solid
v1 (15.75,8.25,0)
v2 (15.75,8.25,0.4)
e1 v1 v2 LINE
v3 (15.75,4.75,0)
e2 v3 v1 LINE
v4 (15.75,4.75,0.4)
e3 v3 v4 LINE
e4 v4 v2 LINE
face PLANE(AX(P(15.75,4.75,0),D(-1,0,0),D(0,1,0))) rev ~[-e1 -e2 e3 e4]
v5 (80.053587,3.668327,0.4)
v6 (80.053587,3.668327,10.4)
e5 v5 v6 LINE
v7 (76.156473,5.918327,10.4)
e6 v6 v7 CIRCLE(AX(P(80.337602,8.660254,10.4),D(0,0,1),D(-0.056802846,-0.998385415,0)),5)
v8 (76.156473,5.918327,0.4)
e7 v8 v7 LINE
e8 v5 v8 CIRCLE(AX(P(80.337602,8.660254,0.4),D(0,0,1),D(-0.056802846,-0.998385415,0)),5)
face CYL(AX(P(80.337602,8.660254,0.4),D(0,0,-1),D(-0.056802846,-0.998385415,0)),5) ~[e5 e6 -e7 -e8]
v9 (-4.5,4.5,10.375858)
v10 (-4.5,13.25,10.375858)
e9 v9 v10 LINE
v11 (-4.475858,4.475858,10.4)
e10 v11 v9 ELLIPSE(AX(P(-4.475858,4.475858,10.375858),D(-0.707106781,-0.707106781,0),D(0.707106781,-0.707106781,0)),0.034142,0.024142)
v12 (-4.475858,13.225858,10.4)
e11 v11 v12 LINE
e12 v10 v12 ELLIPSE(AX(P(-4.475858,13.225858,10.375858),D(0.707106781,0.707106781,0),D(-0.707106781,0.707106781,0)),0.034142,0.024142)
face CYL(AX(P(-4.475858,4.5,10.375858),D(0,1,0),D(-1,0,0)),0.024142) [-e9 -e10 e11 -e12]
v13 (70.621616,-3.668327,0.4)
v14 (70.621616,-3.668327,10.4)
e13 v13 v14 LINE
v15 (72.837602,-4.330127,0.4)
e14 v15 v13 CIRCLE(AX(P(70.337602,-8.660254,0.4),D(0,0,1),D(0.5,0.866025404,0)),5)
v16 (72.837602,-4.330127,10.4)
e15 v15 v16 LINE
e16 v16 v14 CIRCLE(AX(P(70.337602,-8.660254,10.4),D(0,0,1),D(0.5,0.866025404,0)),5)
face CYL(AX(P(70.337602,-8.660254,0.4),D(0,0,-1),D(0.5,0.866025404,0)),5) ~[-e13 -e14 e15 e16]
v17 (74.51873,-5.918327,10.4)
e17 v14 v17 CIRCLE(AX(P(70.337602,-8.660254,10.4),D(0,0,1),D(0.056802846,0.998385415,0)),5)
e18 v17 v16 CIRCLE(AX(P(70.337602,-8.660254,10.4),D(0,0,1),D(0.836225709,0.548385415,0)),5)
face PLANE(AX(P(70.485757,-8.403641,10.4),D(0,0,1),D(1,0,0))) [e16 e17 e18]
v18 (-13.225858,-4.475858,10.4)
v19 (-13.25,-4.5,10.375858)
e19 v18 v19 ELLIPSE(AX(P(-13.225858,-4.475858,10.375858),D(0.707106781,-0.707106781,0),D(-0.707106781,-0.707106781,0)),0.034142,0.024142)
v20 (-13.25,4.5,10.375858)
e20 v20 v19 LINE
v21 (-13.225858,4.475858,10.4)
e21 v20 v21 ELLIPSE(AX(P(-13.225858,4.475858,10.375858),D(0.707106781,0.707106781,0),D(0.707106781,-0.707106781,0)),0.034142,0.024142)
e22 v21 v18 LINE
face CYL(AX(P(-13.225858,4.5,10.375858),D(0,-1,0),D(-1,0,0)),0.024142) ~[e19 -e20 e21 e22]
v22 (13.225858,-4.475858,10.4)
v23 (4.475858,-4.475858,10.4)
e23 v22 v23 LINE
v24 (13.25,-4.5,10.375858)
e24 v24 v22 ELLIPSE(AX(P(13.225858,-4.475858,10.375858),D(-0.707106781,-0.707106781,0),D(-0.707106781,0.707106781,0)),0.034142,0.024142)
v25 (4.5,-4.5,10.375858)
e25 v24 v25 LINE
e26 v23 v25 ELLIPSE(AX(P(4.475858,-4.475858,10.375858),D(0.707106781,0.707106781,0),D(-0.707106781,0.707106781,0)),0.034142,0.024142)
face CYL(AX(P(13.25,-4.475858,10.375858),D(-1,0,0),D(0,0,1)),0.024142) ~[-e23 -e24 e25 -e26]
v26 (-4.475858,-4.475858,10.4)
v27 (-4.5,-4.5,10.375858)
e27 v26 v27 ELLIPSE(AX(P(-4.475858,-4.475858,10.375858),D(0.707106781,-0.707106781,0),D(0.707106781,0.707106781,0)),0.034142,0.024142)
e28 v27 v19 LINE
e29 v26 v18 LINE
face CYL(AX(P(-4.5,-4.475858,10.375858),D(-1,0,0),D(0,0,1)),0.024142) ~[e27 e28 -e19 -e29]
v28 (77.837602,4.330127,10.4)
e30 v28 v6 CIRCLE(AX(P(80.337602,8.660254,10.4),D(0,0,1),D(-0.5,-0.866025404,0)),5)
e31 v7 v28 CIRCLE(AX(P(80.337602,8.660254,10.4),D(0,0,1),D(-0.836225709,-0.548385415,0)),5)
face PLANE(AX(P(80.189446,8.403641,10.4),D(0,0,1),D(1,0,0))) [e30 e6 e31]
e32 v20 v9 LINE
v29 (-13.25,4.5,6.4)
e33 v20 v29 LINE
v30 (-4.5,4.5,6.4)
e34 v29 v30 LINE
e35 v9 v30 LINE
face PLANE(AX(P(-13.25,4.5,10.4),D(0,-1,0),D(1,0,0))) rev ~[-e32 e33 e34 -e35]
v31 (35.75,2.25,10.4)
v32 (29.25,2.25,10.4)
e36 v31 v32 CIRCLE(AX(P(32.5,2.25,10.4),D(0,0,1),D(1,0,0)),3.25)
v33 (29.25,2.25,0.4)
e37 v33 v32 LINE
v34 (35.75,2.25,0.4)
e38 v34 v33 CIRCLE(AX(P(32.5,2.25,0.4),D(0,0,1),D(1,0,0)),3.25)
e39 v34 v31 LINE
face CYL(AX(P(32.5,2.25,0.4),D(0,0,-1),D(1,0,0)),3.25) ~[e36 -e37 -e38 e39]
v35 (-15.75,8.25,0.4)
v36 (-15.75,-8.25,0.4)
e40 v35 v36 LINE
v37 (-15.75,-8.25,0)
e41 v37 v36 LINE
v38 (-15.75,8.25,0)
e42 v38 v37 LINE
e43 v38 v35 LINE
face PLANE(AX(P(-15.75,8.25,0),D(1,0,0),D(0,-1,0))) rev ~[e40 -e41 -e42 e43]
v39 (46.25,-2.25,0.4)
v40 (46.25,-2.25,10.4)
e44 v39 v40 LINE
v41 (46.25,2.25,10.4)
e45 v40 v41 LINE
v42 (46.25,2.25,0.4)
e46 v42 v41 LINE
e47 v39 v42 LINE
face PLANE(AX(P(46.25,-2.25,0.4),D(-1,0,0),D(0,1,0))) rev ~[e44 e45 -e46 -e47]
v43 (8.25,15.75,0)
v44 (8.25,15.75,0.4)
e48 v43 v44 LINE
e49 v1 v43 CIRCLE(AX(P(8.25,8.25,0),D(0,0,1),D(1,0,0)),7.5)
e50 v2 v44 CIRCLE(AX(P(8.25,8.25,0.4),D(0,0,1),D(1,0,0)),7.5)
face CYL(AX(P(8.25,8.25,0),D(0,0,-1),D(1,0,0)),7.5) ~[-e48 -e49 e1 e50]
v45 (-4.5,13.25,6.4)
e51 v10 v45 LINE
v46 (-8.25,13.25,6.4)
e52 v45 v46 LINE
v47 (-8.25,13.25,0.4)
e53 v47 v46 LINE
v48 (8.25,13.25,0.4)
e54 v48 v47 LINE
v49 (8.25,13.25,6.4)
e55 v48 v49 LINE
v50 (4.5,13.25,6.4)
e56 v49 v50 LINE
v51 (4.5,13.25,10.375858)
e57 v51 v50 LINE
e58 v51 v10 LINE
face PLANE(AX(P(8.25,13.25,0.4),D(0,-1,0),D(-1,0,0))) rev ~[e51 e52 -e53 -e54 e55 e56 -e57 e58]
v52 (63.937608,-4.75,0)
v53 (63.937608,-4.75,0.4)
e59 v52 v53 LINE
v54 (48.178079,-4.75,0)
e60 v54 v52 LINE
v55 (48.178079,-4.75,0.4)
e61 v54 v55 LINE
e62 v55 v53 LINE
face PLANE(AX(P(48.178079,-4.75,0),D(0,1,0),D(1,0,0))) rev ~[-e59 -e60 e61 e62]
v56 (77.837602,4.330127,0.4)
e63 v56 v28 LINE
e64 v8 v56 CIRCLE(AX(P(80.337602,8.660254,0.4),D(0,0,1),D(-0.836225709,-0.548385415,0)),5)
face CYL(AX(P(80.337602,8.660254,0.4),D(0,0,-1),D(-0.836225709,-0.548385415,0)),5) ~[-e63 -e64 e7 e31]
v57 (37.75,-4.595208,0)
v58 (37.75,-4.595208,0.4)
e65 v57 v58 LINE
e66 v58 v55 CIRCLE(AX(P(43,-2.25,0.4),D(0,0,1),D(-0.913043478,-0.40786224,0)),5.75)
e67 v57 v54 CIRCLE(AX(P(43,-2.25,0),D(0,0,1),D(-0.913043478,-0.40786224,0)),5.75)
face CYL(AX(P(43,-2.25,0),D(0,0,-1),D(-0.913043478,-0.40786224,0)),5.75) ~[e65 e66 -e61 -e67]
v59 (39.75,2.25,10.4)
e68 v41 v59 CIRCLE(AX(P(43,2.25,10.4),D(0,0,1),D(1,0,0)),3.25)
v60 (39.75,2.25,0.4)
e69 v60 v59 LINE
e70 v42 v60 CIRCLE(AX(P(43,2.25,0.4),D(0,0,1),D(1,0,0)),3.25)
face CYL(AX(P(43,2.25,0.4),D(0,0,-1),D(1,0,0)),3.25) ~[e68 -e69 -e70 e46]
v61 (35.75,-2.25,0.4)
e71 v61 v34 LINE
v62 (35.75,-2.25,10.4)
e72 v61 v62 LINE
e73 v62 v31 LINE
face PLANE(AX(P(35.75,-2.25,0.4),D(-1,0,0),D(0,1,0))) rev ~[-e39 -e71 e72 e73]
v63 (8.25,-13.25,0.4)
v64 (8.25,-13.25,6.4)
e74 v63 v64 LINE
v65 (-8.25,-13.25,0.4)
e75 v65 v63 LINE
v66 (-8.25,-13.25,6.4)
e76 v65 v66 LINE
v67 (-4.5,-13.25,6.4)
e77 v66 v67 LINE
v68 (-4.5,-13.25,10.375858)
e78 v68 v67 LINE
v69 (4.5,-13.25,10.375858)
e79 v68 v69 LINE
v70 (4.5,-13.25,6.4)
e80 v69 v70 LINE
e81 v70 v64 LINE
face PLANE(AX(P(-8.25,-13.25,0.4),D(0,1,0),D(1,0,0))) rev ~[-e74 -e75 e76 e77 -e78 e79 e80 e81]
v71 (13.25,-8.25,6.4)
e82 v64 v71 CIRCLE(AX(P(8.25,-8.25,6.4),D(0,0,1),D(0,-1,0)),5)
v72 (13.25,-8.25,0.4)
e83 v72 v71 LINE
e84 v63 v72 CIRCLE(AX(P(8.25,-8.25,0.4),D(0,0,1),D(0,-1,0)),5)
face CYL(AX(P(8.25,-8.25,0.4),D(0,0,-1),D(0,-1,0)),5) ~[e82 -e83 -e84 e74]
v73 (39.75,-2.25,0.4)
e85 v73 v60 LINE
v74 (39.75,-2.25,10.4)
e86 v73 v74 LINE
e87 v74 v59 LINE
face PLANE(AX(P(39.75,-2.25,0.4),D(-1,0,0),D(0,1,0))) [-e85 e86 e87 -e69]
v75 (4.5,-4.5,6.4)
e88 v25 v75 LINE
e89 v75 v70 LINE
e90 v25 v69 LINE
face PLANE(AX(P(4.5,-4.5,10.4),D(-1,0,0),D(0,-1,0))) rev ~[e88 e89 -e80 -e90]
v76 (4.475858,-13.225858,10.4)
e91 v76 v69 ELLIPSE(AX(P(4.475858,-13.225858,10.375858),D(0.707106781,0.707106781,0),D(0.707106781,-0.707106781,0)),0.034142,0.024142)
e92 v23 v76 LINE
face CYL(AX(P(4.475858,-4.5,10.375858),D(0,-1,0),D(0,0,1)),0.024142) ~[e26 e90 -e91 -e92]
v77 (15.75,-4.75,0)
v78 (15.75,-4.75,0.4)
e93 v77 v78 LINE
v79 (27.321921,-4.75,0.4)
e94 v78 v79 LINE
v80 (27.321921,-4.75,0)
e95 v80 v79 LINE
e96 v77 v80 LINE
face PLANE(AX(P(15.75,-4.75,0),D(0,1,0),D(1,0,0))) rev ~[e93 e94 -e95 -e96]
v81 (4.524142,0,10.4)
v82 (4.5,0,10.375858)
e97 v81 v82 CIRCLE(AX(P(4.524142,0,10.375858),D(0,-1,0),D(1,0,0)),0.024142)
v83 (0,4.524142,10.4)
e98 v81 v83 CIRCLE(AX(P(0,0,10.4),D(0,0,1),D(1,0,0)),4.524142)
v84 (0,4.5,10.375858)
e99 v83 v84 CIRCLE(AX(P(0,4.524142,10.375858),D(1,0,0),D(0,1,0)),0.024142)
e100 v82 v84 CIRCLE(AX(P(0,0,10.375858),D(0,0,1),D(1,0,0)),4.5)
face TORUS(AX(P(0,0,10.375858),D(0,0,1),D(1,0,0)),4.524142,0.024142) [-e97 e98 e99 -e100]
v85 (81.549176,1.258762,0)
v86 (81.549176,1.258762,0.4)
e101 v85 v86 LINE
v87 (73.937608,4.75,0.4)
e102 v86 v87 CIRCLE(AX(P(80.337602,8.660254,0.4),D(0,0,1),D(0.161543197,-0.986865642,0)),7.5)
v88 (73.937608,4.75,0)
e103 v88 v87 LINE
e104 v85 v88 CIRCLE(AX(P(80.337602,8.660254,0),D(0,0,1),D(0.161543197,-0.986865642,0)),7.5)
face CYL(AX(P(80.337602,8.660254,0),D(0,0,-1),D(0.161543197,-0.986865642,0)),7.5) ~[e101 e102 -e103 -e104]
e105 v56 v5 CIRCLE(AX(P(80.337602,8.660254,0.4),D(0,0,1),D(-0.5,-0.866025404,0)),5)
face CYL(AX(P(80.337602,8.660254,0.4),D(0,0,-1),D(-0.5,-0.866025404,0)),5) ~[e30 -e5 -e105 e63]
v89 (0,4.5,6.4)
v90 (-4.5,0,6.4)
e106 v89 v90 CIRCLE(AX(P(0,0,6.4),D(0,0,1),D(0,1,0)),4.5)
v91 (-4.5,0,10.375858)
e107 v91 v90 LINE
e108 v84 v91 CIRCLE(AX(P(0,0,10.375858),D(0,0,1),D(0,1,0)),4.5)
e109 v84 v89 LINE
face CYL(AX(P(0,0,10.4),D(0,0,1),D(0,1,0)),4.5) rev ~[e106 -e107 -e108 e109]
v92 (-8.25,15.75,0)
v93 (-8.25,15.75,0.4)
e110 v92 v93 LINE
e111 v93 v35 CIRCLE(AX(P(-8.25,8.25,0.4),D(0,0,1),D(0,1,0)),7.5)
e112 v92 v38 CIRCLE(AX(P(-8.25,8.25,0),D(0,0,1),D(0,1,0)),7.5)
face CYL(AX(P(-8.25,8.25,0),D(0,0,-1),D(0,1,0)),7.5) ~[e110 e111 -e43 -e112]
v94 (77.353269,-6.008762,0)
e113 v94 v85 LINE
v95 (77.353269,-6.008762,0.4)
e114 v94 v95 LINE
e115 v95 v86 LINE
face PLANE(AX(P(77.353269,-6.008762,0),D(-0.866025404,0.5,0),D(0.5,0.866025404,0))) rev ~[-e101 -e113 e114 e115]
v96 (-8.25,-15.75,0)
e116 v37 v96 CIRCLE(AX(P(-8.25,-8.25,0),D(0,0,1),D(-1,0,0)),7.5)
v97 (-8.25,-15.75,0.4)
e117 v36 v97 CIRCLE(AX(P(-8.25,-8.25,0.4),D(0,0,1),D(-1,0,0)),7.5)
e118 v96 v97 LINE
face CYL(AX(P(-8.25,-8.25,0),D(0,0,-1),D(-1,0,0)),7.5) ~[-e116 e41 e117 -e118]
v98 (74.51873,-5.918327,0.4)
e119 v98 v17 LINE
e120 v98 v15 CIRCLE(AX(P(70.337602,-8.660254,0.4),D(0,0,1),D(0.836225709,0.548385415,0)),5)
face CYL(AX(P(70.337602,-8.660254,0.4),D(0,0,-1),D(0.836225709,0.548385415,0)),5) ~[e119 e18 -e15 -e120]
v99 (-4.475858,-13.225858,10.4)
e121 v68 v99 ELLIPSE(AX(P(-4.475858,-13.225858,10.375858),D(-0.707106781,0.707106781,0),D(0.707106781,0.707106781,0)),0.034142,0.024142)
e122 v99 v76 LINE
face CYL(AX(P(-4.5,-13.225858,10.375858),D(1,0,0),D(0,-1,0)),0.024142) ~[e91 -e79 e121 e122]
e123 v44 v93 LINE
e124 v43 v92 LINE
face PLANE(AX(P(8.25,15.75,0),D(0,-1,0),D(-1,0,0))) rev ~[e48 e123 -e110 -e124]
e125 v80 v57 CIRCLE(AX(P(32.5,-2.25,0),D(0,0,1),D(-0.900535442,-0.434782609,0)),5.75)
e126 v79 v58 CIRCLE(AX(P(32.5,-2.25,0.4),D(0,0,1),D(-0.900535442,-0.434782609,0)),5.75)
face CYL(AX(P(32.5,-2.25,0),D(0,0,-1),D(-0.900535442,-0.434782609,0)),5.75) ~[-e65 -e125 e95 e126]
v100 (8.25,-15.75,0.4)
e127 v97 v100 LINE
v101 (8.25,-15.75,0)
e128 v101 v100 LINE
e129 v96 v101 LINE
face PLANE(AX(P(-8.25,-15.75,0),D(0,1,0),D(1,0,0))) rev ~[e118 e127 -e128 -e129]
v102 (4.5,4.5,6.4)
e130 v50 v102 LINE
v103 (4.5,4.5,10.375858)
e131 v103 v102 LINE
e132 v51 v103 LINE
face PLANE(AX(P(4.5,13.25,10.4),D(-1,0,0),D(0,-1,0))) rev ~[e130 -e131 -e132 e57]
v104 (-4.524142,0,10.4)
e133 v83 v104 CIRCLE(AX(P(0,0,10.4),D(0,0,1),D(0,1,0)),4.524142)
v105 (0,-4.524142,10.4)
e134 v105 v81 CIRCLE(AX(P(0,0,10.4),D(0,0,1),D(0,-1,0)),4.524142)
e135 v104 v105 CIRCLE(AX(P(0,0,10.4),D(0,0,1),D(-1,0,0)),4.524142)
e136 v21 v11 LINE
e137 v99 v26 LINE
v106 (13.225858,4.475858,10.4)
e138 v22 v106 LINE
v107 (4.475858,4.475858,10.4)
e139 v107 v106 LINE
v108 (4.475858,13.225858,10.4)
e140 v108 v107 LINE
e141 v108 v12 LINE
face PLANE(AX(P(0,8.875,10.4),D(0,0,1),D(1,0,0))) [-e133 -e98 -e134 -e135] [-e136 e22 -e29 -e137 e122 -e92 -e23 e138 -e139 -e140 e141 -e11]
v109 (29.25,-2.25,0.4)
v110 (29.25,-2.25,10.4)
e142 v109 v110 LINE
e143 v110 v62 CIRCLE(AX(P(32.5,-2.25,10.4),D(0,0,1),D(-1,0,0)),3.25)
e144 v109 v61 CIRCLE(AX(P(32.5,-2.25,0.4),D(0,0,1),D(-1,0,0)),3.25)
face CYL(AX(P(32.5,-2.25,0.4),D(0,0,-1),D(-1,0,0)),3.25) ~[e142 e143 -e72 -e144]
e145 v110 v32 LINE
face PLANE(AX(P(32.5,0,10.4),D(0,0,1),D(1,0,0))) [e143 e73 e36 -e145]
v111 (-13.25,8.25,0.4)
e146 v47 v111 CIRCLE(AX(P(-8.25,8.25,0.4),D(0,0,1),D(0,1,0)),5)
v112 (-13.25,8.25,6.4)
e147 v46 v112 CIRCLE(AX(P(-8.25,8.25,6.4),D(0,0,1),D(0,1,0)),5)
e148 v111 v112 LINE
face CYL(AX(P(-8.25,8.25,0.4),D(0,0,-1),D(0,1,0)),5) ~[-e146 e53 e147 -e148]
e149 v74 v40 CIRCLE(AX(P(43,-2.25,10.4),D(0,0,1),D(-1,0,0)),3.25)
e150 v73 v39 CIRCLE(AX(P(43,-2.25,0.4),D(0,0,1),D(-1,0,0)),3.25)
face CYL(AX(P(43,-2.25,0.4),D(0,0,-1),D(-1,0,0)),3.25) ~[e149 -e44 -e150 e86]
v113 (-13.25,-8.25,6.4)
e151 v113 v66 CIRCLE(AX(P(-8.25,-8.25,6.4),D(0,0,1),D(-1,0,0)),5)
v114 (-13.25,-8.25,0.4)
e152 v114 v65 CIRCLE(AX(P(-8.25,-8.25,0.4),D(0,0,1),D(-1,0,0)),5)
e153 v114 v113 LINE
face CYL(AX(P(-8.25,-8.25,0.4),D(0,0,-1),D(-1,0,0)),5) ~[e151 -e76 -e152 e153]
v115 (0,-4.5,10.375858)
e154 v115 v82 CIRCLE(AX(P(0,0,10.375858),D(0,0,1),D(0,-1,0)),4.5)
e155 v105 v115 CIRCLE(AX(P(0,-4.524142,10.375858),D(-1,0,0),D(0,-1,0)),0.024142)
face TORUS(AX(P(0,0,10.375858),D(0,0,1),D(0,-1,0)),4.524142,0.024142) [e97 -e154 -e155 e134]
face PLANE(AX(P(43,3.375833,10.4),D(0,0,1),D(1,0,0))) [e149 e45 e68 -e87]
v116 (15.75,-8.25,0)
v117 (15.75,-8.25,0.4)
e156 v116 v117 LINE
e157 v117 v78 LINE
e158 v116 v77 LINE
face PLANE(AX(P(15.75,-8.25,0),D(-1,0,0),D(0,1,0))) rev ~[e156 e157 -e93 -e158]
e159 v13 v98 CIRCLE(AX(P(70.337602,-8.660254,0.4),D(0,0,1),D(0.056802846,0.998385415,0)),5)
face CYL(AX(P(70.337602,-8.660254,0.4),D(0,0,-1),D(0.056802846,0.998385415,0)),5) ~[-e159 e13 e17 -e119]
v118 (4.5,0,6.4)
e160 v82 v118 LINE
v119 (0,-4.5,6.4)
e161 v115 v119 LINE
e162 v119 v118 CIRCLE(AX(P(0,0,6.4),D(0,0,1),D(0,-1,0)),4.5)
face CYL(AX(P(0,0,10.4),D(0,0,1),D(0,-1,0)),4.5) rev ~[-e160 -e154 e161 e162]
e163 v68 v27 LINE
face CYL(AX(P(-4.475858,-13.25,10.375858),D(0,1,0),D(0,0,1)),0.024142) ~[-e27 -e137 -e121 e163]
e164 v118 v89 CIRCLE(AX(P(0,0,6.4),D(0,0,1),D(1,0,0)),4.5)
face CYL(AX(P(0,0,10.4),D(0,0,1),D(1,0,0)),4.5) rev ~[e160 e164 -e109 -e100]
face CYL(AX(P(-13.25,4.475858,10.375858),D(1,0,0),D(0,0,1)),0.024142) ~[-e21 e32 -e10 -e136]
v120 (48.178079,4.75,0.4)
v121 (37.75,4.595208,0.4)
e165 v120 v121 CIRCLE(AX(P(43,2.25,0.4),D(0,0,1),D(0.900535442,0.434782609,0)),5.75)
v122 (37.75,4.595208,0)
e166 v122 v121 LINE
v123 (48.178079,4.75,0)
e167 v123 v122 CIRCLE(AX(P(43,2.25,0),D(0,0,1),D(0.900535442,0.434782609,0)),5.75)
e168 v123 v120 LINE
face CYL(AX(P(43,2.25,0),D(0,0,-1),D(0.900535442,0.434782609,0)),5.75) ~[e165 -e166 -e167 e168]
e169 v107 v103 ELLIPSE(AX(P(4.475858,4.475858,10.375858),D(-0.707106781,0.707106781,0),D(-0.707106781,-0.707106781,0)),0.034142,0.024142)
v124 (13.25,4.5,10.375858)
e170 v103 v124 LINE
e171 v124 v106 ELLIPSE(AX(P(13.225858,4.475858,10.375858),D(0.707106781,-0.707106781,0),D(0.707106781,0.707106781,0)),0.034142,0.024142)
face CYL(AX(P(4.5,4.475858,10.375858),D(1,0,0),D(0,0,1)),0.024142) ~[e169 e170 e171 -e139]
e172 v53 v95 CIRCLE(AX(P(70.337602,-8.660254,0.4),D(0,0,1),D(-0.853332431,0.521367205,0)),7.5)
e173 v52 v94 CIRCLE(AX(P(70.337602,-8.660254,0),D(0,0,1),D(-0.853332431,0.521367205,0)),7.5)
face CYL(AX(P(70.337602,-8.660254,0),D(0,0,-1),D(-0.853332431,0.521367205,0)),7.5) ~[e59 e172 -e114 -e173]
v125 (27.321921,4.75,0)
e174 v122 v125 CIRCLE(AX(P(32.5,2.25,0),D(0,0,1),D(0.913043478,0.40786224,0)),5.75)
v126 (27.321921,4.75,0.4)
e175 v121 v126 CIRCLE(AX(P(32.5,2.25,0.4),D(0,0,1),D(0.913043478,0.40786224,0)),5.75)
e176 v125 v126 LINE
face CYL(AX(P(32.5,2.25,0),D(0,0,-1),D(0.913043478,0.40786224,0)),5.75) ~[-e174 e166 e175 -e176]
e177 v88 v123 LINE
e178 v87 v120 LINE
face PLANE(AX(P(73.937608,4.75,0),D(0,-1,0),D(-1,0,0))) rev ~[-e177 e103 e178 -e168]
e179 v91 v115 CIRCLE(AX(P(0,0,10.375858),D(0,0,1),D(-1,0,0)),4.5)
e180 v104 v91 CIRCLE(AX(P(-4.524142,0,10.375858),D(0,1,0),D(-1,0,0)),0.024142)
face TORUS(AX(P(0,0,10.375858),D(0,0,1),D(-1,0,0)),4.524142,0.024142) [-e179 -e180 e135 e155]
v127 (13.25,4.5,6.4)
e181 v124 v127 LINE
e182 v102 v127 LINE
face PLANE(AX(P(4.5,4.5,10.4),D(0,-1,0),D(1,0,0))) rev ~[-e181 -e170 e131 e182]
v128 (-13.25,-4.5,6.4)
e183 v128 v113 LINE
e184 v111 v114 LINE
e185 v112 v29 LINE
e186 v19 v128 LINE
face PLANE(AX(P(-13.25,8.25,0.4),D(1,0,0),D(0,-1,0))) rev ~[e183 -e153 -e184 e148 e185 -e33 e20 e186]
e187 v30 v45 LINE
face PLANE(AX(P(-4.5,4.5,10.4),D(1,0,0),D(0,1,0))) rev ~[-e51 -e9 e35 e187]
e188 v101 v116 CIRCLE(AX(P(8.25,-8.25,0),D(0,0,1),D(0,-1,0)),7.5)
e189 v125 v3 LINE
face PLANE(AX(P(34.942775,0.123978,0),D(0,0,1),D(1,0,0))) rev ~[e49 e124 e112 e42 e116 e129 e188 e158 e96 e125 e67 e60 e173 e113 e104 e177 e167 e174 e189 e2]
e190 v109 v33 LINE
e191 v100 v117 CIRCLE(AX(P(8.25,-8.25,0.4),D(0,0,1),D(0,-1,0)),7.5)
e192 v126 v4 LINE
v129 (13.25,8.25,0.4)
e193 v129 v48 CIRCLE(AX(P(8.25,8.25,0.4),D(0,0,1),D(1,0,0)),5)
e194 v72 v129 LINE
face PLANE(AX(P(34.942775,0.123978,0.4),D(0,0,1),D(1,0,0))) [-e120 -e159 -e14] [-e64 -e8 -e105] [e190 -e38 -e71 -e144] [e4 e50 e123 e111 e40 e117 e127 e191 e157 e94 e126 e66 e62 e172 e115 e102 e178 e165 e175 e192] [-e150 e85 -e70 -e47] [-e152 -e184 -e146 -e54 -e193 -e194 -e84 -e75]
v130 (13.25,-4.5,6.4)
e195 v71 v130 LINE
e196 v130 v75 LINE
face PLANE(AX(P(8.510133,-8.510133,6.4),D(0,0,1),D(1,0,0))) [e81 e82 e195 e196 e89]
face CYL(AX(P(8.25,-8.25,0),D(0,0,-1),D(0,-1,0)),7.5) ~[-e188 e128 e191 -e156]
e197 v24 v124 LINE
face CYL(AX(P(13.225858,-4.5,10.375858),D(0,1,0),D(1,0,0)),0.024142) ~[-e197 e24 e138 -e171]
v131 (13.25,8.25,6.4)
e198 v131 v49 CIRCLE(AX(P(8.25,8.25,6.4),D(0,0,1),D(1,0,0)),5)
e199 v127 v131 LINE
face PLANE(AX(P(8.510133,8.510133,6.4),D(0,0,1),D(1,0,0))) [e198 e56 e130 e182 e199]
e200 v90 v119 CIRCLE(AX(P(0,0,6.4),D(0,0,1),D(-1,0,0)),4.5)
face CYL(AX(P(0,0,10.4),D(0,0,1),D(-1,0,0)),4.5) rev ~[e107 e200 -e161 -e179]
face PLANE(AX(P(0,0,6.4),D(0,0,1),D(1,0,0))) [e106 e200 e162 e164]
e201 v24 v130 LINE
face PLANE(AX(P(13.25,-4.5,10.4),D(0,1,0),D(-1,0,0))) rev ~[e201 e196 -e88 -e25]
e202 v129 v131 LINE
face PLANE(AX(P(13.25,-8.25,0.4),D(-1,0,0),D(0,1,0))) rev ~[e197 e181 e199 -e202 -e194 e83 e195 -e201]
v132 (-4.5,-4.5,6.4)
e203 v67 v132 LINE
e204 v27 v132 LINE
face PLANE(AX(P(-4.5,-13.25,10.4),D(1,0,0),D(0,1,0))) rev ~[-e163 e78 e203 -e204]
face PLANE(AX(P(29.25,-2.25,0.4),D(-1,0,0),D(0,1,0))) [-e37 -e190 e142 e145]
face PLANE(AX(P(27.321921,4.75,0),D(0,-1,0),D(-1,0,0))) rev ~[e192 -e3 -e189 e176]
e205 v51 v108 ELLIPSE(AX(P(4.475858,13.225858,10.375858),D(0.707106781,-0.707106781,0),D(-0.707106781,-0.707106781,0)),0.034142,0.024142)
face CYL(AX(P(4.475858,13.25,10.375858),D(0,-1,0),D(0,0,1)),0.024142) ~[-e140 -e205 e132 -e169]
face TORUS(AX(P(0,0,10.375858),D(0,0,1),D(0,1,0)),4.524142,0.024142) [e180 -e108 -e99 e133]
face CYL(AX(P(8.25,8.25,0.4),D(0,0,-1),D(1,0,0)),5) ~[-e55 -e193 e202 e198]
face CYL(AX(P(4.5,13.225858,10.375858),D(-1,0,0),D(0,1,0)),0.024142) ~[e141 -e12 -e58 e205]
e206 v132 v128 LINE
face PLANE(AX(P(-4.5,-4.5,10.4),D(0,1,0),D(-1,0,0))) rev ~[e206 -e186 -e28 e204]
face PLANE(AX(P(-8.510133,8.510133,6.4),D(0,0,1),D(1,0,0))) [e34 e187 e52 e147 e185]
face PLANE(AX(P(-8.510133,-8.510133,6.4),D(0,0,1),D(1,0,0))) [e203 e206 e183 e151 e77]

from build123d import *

# Parameters (mm, degrees)
F0_W     = 6.5
F0_H     = 4.5
F0_W_2   = 4
F0_W_3   = 16
F1_DEPTH = 0.4
F2_W     = 6.5
F2_H     = 4.5
F3_DEPTH = 10
F5_DEPTH = 4
F6_R     = 0.0241421356


with BuildPart() as f1:
    # F0 (on Top) → F1 (new body)
    with BuildSketch(Plane.XY):
        with BuildLine():
            Line((8.25, 15.75), (-8.25, 15.75))
            ThreePointArc((-8.25, 15.75), (-13.5533008589, 13.5533008589), (-15.75, 8.25))
            Line((-15.75, 8.25), (-15.75, -8.25))
            ThreePointArc((-15.75, -8.25), (-13.5533008589, -13.5533008589), (-8.25, -15.75))
            Line((-8.25, -15.75), (8.25, -15.75))
            ThreePointArc((8.25, -15.75), (13.5533008589, -13.5533008589), (15.75, -8.25))
            Line((15.75, -8.25), (15.75, -4.75))
            Line((15.75, -4.75), (27.3219212057, -4.75))
            ThreePointArc((27.3219212057, -4.75), (32.5853423404, -7.9993666334), (37.75, -4.5952078799))
            ThreePointArc((37.75, -4.5952078799), (42.9146576596, -7.9993666334), (48.1780787943, -4.75))
            Line((48.1780787943, -4.75), (63.9376083391, -4.75))
            ThreePointArc((63.9376083391, -4.75), (69.6369704789, -16.1274567319), (77.3532689299, -6.0087617221))
            Line((77.3532689299, -6.0087617221), (81.5491755468, 1.2587617221))
            ThreePointArc((81.5491755468, 1.2587617221), (83.4644385935, 15.4773568118), (73.9376083391, 4.75))
            Line((73.9376083391, 4.75), (48.1780787943, 4.75))
            ThreePointArc((48.1780787943, 4.75), (42.9146576596, 7.9993666334), (37.75, 4.5952078799))
            ThreePointArc((37.75, 4.5952078799), (32.5853423404, 7.9993666334), (27.3219212057, 4.75))
            Line((27.3219212057, 4.75), (15.75, 4.75))
            Line((15.75, 4.75), (15.75, 8.25))
            ThreePointArc((15.75, 8.25), (13.5533008589, 13.5533008589), (8.25, 15.75))
        make_face()
        with BuildLine():
            ThreePointArc((-13.25, 8.25), (-11.7855339059, 11.7855339059), (-8.25, 13.25))
            Line((-8.25, 13.25), (-4.5, 13.25))
            Line((-4.5, 13.25), (4.5, 13.25))
            Line((4.5, 13.25), (8.25, 13.25))
            ThreePointArc((8.25, 13.25), (11.7855339059, 11.7855339059), (13.25, 8.25))
            Line((13.25, 8.25), (13.25, 4.5))
            Line((13.25, 4.5), (13.25, 2.25))
            Line((13.25, 2.25), (29.25, 2.25))
            ThreePointArc((29.25, 2.25), (32.5, 5.5), (35.75, 2.25))
            Line((35.75, 2.25), (39.75, 2.25))
            ThreePointArc((39.75, 2.25), (43, 5.5), (46.25, 2.25))
            Line((46.25, 2.25), (74.0385634647, 2.25))
            Line((74.0385634647, 2.25), (76.1564730244, 5.9183269633))
            ThreePointArc((76.1564730244, 5.9183269633), (82.8376015704, 12.9903810568), (80.0535873414, 3.6683269633))
            Line((80.0535873414, 3.6683269633), (74.5187301163, -5.9183269633))
            ThreePointArc((74.5187301163, -5.9183269633), (67.8376015704, -12.9903810568), (70.6216157993, -3.6683269633))
            Line((70.6216157993, -3.6683269633), (71.4404872533, -2.25))
            Line((71.4404872533, -2.25), (46.25, -2.25))
            ThreePointArc((46.25, -2.25), (43, -5.5), (39.75, -2.25))
            Line((39.75, -2.25), (35.75, -2.25))
            ThreePointArc((35.75, -2.25), (32.5, -5.5), (29.25, -2.25))
            Line((29.25, -2.25), (13.25, -2.25))
            Line((13.25, -2.25), (13.25, -4.5))
            Line((13.25, -4.5), (13.25, -8.25))
            ThreePointArc((13.25, -8.25), (11.7855339059, -11.7855339059), (8.25, -13.25))
            Line((8.25, -13.25), (4.5, -13.25))
            Line((4.5, -13.25), (-4.5, -13.25))
            Line((-4.5, -13.25), (-8.25, -13.25))
            ThreePointArc((-8.25, -13.25), (-11.7855339059, -11.7855339059), (-13.25, -8.25))
            Line((-13.25, -8.25), (-13.25, -4.5))
            Line((-13.25, -4.5), (-13.25, 4.5))
            Line((-13.25, 4.5), (-13.25, 8.25))
        make_face(mode=Mode.SUBTRACT)
        Polygon((4.5, -4.5), (0, -4.5), (-4.5, -4.5), (-4.5, -13.25), (4.5, -13.25), align=None)
        with BuildLine():
            Line((76.1564730244, 5.9183269633), (74.0385634647, 2.25))
            Line((74.0385634647, 2.25), (71.4404872533, -2.25))
            Line((71.4404872533, -2.25), (70.6216157993, -3.6683269633))
            ThreePointArc((70.6216157993, -3.6683269633), (72.8376015704, -4.3301270189), (74.5187301163, -5.9183269633))
            Line((74.5187301163, -5.9183269633), (80.0535873414, 3.6683269633))
            ThreePointArc((80.0535873414, 3.6683269633), (77.8376015704, 4.3301270189), (76.1564730244, 5.9183269633))
        make_face()
        with Locations((32.5, 0)):
            Rectangle(F0_W, F0_H)
        with BuildLine():
            ThreePointArc((35.75, 2.25), (32.5, 5.5), (29.25, 2.25))
            Line((29.25, 2.25), (35.75, 2.25))
        make_face()
        Polygon((74.0385634647, 2.25), (46.25, 2.25), (46.25, -2.25), (71.4404872533, -2.25), align=None)
        with BuildLine():
            Line((35.75, -2.25), (29.25, -2.25))
            ThreePointArc((29.25, -2.25), (32.5, -5.5), (35.75, -2.25))
        make_face()
        with Locations((37.75, 0)):
            Rectangle(F0_W_2, F0_H)
        Polygon((-4.5, 0), (-4.5, 4.5), (-13.25, 4.5), (-13.25, -4.5), (-4.5, -4.5), align=None)
        with BuildLine():
            ThreePointArc((46.25, 2.25), (43, 5.5), (39.75, 2.25))
            Line((39.75, 2.25), (46.25, 2.25))
        make_face()
        with BuildLine():
            Line((-4.5, -4.5), (-13.25, -4.5))
            Line((-13.25, -4.5), (-13.25, -8.25))
            ThreePointArc((-13.25, -8.25), (-11.7855339059, -11.7855339059), (-8.25, -13.25))
            Line((-8.25, -13.25), (-4.5, -13.25))
            Line((-4.5, -13.25), (-4.5, -4.5))
        make_face()
        with BuildLine():
            Line((13.25, -4.5), (4.5, -4.5))
            Line((4.5, -4.5), (4.5, -13.25))
            Line((4.5, -13.25), (8.25, -13.25))
            ThreePointArc((8.25, -13.25), (11.7855339059, -11.7855339059), (13.25, -8.25))
            Line((13.25, -8.25), (13.25, -4.5))
        make_face()
        with BuildLine():
            Line((46.25, -2.25), (39.75, -2.25))
            ThreePointArc((39.75, -2.25), (43, -5.5), (46.25, -2.25))
        make_face()
        with BuildLine():
            ThreePointArc((74.5187301163, -5.9183269633), (72.8376015704, -4.3301270189), (70.6216157993, -3.6683269633))
            ThreePointArc((70.6216157993, -3.6683269633), (67.8376015704, -12.9903810568), (74.5187301163, -5.9183269633))
        make_face()
        with BuildLine():
            ThreePointArc((80.0535873414, 3.6683269633), (82.8376015704, 12.9903810568), (76.1564730244, 5.9183269633))
            ThreePointArc((76.1564730244, 5.9183269633), (77.8376015704, 4.3301270189), (80.0535873414, 3.6683269633))
        make_face()
        Polygon((13.25, 4.5), (4.5, 4.5), (4.5, 0), (4.5, -4.5), (13.25, -4.5), (13.25, -2.25), (13.25, 2.25), align=None)
        with BuildLine():
            Line((-4.5, 13.25), (-8.25, 13.25))
            ThreePointArc((-8.25, 13.25), (-11.7855339059, 11.7855339059), (-13.25, 8.25))
            Line((-13.25, 8.25), (-13.25, 4.5))
            Line((-13.25, 4.5), (-4.5, 4.5))
            Line((-4.5, 4.5), (-4.5, 13.25))
        make_face()
        Polygon((4.5, 13.25), (-4.5, 13.25), (-4.5, 4.5), (0, 4.5), (4.5, 4.5), align=None)
        with BuildLine():
            Line((8.25, 13.25), (4.5, 13.25))
            Line((4.5, 13.25), (4.5, 4.5))
            Line((4.5, 4.5), (13.25, 4.5))
            Line((13.25, 4.5), (13.25, 8.25))
            ThreePointArc((13.25, 8.25), (11.7855339059, 11.7855339059), (8.25, 13.25))
        make_face()
        with Locations((21.25, 0)):
            Rectangle(F0_W_3, F0_H)
        with Locations((43, 0)):
            Rectangle(F0_W, F0_H)
        with BuildLine():
            ThreePointArc((0, 4.5), (-3.1819805153, 3.1819805153), (-4.5, 0))
            ThreePointArc((-4.5, 0), (-3.1819805153, -3.1819805153), (0, -4.5))
            ThreePointArc((0, -4.5), (3.1819805153, -3.1819805153), (4.5, 0))
            ThreePointArc((4.5, 0), (3.1819805153, 3.1819805153), (0, 4.5))
        make_face()
        with BuildLine():
            Line((4.5, 0), (4.5, 4.5))
            Line((4.5, 4.5), (0, 4.5))
            ThreePointArc((0, 4.5), (3.1819805153, 3.1819805153), (4.5, 0))
        make_face()
        with BuildLine():
            Line((4.5, -4.5), (4.5, 0))
            ThreePointArc((4.5, 0), (3.1819805153, -3.1819805153), (0, -4.5))
            Line((0, -4.5), (4.5, -4.5))
        make_face()
        with BuildLine():
            ThreePointArc((0, -4.5), (-3.1819805153, -3.1819805153), (-4.5, 0))
            Line((-4.5, 0), (-4.5, -4.5))
            Line((-4.5, -4.5), (0, -4.5))
        make_face()
        with BuildLine():
            Line((0, 4.5), (-4.5, 4.5))
            Line((-4.5, 4.5), (-4.5, 0))
            ThreePointArc((-4.5, 0), (-3.1819805153, 3.1819805153), (0, 4.5))
        make_face()
    extrude(amount=F1_DEPTH)

    # F2 (on face) → F3 (join)
    with BuildSketch(Plane.XY.offset(0.4)):
        Polygon((4.5, 13.25), (-4.5, 13.25), (-4.5, 4.5), (0, 4.5), (4.5, 4.5), align=None)
        Polygon((-4.5, 0), (-4.5, 4.5), (-13.25, 4.5), (-13.25, -4.5), (-4.5, -4.5), align=None)
        Polygon((13.25, 4.5), (4.5, 4.5), (4.5, 0), (4.5, -4.5), (13.25, -4.5), (13.25, -2.25), (13.25, 2.25), align=None)
        Polygon((4.5, -4.5), (0, -4.5), (-4.5, -4.5), (-4.5, -13.25), (4.5, -13.25), align=None)
        with BuildLine():
            Line((4.5, -4.5), (4.5, 0))
            ThreePointArc((4.5, 0), (3.1819805153, -3.1819805153), (0, -4.5))
            Line((0, -4.5), (4.5, -4.5))
        make_face()
        with BuildLine():
            ThreePointArc((0, -4.5), (-3.1819805153, -3.1819805153), (-4.5, 0))
            Line((-4.5, 0), (-4.5, -4.5))
            Line((-4.5, -4.5), (0, -4.5))
        make_face()
        with BuildLine():
            Line((0, 4.5), (-4.5, 4.5))
            Line((-4.5, 4.5), (-4.5, 0))
            ThreePointArc((-4.5, 0), (-3.1819805153, 3.1819805153), (0, 4.5))
        make_face()
        with BuildLine():
            Line((4.5, 0), (4.5, 4.5))
            Line((4.5, 4.5), (0, 4.5))
            ThreePointArc((0, 4.5), (3.1819805153, 3.1819805153), (4.5, 0))
        make_face()
        with Locations((32.5, 0)):
            Rectangle(F2_W, F2_H)
        with BuildLine():
            ThreePointArc((35.75, 2.25), (32.5, 5.5), (29.25, 2.25))
            Line((29.25, 2.25), (35.75, 2.25))
        make_face()
        with BuildLine():
            Line((35.75, -2.25), (29.25, -2.25))
            ThreePointArc((29.25, -2.25), (32.5, -5.5), (35.75, -2.25))
        make_face()
        with BuildLine():
            ThreePointArc((46.25, 2.25), (43, 5.5), (39.75, 2.25))
            Line((39.75, 2.25), (46.25, 2.25))
        make_face()
        with Locations((43, 0)):
            Rectangle(F2_W, F2_H)
        with BuildLine():
            Line((46.25, -2.25), (39.75, -2.25))
            ThreePointArc((39.75, -2.25), (43, -5.5), (46.25, -2.25))
        make_face()
        with BuildLine():
            ThreePointArc((80.0535873414, 3.6683269633), (82.8376015704, 12.9903810568), (76.1564730244, 5.9183269633))
            ThreePointArc((76.1564730244, 5.9183269633), (76.9039498076, 5.0256927751), (77.8376015704, 4.3301270189))
            ThreePointArc((77.8376015704, 4.3301270189), (78.9068050666, 3.8693437522), (80.0535873414, 3.6683269633))
        make_face()
        with BuildLine():
            ThreePointArc((72.8376015704, -4.3301270189), (71.7683980741, -3.8693437522), (70.6216157993, -3.6683269633))
            ThreePointArc((70.6216157993, -3.6683269633), (67.8376015704, -12.9903810568), (74.5187301163, -5.9183269633))
            ThreePointArc((74.5187301163, -5.9183269633), (73.7712533331, -5.0256927751), (72.8376015704, -4.3301270189))
        make_face()
        with BuildLine():
            Line((8.25, 13.25), (4.5, 13.25))
            Line((4.5, 13.25), (4.5, 4.5))
            Line((4.5, 4.5), (13.25, 4.5))
            Line((13.25, 4.5), (13.25, 8.25))
            ThreePointArc((13.25, 8.25), (11.7855339059, 11.7855339059), (8.25, 13.25))
        make_face()
        with BuildLine():
            Line((-4.5, 13.25), (-8.25, 13.25))
            ThreePointArc((-8.25, 13.25), (-11.7855339059, 11.7855339059), (-13.25, 8.25))
            Line((-13.25, 8.25), (-13.25, 4.5))
            Line((-13.25, 4.5), (-4.5, 4.5))
            Line((-4.5, 4.5), (-4.5, 13.25))
        make_face()
        with BuildLine():
            Line((-4.5, -4.5), (-13.25, -4.5))
            Line((-13.25, -4.5), (-13.25, -8.25))
            ThreePointArc((-13.25, -8.25), (-11.7855339059, -11.7855339059), (-8.25, -13.25))
            Line((-8.25, -13.25), (-4.5, -13.25))
            Line((-4.5, -13.25), (-4.5, -4.5))
        make_face()
        with BuildLine():
            ThreePointArc((0, 4.5), (-3.1819805153, 3.1819805153), (-4.5, 0))
            ThreePointArc((-4.5, 0), (-3.1819805153, -3.1819805153), (0, -4.5))
            ThreePointArc((0, -4.5), (3.1819805153, -3.1819805153), (4.5, 0))
            ThreePointArc((4.5, 0), (3.1819805153, 3.1819805153), (0, 4.5))
        make_face()
        with BuildLine():
            Line((13.25, -4.5), (4.5, -4.5))
            Line((4.5, -4.5), (4.5, -13.25))
            Line((4.5, -13.25), (8.25, -13.25))
            ThreePointArc((8.25, -13.25), (11.7855339059, -11.7855339059), (13.25, -8.25))
            Line((13.25, -8.25), (13.25, -4.5))
        make_face()
    extrude(amount=F3_DEPTH)

    # F4 (on face) → F5 (cut)
    with BuildSketch(Plane.XY.offset(10.4)):
        with BuildLine():
            Line((8.25, 13.25), (4.5, 13.25))
            Line((4.5, 13.25), (4.5, 4.5))
            Line((4.5, 4.5), (13.25, 4.5))
            Line((13.25, 4.5), (13.25, 8.25))
            ThreePointArc((13.25, 8.25), (11.7855339059, 11.7855339059), (8.25, 13.25))
        make_face()
        with BuildLine():
            Line((-4.5, 13.25), (-8.25, 13.25))
            ThreePointArc((-8.25, 13.25), (-11.7855339059, 11.7855339059), (-13.25, 8.25))
            Line((-13.25, 8.25), (-13.25, 4.5))
            Line((-13.25, 4.5), (-4.5, 4.5))
            Line((-4.5, 4.5), (-4.5, 13.25))
        make_face()
        with BuildLine():
            Line((-4.5, -4.5), (-13.25, -4.5))
            Line((-13.25, -4.5), (-13.25, -8.25))
            ThreePointArc((-13.25, -8.25), (-11.7855339059, -11.7855339059), (-8.25, -13.25))
            Line((-8.25, -13.25), (-4.5, -13.25))
            Line((-4.5, -13.25), (-4.5, -4.5))
        make_face()
        with BuildLine():
            Line((13.25, -4.5), (4.5, -4.5))
            Line((4.5, -4.5), (4.5, -13.25))
            Line((4.5, -13.25), (8.25, -13.25))
            ThreePointArc((8.25, -13.25), (11.7855339059, -11.7855339059), (13.25, -8.25))
            Line((13.25, -8.25), (13.25, -4.5))
        make_face()
        with BuildLine():
            ThreePointArc((0, 4.5), (-3.1819805153, 3.1819805153), (-4.5, 0))
            ThreePointArc((-4.5, 0), (-3.1819805153, -3.1819805153), (0, -4.5))
            ThreePointArc((0, -4.5), (3.1819805153, -3.1819805153), (4.5, 0))
            ThreePointArc((4.5, 0), (3.1819805153, 3.1819805153), (0, 4.5))
        make_face()
    extrude(amount=-F5_DEPTH, mode=Mode.SUBTRACT)

    # F6
    f6_edges = [f1.edges().sort_by_distance(p)[0] for p in [
        (13.25, 0, 10.4),
        (8.875, -4.5, 10.4),
        (4.5, -8.875, 10.4),
        (0, -13.25, 10.4),
        (-4.5, -8.875, 10.4),
        (-8.875, -4.5, 10.4),
        (-13.25, 0, 10.4),
        (-8.875, 4.5, 10.4),
        (-4.5, 8.875, 10.4),
        (0, 13.25, 10.4),
        (4.5, 8.875, 10.4),
        (8.875, 4.5, 10.4),
        (-4.5, 0, 10.4),
    ]]
    fillet(f6_edges, radius=F6_R)


solid = f1.part
